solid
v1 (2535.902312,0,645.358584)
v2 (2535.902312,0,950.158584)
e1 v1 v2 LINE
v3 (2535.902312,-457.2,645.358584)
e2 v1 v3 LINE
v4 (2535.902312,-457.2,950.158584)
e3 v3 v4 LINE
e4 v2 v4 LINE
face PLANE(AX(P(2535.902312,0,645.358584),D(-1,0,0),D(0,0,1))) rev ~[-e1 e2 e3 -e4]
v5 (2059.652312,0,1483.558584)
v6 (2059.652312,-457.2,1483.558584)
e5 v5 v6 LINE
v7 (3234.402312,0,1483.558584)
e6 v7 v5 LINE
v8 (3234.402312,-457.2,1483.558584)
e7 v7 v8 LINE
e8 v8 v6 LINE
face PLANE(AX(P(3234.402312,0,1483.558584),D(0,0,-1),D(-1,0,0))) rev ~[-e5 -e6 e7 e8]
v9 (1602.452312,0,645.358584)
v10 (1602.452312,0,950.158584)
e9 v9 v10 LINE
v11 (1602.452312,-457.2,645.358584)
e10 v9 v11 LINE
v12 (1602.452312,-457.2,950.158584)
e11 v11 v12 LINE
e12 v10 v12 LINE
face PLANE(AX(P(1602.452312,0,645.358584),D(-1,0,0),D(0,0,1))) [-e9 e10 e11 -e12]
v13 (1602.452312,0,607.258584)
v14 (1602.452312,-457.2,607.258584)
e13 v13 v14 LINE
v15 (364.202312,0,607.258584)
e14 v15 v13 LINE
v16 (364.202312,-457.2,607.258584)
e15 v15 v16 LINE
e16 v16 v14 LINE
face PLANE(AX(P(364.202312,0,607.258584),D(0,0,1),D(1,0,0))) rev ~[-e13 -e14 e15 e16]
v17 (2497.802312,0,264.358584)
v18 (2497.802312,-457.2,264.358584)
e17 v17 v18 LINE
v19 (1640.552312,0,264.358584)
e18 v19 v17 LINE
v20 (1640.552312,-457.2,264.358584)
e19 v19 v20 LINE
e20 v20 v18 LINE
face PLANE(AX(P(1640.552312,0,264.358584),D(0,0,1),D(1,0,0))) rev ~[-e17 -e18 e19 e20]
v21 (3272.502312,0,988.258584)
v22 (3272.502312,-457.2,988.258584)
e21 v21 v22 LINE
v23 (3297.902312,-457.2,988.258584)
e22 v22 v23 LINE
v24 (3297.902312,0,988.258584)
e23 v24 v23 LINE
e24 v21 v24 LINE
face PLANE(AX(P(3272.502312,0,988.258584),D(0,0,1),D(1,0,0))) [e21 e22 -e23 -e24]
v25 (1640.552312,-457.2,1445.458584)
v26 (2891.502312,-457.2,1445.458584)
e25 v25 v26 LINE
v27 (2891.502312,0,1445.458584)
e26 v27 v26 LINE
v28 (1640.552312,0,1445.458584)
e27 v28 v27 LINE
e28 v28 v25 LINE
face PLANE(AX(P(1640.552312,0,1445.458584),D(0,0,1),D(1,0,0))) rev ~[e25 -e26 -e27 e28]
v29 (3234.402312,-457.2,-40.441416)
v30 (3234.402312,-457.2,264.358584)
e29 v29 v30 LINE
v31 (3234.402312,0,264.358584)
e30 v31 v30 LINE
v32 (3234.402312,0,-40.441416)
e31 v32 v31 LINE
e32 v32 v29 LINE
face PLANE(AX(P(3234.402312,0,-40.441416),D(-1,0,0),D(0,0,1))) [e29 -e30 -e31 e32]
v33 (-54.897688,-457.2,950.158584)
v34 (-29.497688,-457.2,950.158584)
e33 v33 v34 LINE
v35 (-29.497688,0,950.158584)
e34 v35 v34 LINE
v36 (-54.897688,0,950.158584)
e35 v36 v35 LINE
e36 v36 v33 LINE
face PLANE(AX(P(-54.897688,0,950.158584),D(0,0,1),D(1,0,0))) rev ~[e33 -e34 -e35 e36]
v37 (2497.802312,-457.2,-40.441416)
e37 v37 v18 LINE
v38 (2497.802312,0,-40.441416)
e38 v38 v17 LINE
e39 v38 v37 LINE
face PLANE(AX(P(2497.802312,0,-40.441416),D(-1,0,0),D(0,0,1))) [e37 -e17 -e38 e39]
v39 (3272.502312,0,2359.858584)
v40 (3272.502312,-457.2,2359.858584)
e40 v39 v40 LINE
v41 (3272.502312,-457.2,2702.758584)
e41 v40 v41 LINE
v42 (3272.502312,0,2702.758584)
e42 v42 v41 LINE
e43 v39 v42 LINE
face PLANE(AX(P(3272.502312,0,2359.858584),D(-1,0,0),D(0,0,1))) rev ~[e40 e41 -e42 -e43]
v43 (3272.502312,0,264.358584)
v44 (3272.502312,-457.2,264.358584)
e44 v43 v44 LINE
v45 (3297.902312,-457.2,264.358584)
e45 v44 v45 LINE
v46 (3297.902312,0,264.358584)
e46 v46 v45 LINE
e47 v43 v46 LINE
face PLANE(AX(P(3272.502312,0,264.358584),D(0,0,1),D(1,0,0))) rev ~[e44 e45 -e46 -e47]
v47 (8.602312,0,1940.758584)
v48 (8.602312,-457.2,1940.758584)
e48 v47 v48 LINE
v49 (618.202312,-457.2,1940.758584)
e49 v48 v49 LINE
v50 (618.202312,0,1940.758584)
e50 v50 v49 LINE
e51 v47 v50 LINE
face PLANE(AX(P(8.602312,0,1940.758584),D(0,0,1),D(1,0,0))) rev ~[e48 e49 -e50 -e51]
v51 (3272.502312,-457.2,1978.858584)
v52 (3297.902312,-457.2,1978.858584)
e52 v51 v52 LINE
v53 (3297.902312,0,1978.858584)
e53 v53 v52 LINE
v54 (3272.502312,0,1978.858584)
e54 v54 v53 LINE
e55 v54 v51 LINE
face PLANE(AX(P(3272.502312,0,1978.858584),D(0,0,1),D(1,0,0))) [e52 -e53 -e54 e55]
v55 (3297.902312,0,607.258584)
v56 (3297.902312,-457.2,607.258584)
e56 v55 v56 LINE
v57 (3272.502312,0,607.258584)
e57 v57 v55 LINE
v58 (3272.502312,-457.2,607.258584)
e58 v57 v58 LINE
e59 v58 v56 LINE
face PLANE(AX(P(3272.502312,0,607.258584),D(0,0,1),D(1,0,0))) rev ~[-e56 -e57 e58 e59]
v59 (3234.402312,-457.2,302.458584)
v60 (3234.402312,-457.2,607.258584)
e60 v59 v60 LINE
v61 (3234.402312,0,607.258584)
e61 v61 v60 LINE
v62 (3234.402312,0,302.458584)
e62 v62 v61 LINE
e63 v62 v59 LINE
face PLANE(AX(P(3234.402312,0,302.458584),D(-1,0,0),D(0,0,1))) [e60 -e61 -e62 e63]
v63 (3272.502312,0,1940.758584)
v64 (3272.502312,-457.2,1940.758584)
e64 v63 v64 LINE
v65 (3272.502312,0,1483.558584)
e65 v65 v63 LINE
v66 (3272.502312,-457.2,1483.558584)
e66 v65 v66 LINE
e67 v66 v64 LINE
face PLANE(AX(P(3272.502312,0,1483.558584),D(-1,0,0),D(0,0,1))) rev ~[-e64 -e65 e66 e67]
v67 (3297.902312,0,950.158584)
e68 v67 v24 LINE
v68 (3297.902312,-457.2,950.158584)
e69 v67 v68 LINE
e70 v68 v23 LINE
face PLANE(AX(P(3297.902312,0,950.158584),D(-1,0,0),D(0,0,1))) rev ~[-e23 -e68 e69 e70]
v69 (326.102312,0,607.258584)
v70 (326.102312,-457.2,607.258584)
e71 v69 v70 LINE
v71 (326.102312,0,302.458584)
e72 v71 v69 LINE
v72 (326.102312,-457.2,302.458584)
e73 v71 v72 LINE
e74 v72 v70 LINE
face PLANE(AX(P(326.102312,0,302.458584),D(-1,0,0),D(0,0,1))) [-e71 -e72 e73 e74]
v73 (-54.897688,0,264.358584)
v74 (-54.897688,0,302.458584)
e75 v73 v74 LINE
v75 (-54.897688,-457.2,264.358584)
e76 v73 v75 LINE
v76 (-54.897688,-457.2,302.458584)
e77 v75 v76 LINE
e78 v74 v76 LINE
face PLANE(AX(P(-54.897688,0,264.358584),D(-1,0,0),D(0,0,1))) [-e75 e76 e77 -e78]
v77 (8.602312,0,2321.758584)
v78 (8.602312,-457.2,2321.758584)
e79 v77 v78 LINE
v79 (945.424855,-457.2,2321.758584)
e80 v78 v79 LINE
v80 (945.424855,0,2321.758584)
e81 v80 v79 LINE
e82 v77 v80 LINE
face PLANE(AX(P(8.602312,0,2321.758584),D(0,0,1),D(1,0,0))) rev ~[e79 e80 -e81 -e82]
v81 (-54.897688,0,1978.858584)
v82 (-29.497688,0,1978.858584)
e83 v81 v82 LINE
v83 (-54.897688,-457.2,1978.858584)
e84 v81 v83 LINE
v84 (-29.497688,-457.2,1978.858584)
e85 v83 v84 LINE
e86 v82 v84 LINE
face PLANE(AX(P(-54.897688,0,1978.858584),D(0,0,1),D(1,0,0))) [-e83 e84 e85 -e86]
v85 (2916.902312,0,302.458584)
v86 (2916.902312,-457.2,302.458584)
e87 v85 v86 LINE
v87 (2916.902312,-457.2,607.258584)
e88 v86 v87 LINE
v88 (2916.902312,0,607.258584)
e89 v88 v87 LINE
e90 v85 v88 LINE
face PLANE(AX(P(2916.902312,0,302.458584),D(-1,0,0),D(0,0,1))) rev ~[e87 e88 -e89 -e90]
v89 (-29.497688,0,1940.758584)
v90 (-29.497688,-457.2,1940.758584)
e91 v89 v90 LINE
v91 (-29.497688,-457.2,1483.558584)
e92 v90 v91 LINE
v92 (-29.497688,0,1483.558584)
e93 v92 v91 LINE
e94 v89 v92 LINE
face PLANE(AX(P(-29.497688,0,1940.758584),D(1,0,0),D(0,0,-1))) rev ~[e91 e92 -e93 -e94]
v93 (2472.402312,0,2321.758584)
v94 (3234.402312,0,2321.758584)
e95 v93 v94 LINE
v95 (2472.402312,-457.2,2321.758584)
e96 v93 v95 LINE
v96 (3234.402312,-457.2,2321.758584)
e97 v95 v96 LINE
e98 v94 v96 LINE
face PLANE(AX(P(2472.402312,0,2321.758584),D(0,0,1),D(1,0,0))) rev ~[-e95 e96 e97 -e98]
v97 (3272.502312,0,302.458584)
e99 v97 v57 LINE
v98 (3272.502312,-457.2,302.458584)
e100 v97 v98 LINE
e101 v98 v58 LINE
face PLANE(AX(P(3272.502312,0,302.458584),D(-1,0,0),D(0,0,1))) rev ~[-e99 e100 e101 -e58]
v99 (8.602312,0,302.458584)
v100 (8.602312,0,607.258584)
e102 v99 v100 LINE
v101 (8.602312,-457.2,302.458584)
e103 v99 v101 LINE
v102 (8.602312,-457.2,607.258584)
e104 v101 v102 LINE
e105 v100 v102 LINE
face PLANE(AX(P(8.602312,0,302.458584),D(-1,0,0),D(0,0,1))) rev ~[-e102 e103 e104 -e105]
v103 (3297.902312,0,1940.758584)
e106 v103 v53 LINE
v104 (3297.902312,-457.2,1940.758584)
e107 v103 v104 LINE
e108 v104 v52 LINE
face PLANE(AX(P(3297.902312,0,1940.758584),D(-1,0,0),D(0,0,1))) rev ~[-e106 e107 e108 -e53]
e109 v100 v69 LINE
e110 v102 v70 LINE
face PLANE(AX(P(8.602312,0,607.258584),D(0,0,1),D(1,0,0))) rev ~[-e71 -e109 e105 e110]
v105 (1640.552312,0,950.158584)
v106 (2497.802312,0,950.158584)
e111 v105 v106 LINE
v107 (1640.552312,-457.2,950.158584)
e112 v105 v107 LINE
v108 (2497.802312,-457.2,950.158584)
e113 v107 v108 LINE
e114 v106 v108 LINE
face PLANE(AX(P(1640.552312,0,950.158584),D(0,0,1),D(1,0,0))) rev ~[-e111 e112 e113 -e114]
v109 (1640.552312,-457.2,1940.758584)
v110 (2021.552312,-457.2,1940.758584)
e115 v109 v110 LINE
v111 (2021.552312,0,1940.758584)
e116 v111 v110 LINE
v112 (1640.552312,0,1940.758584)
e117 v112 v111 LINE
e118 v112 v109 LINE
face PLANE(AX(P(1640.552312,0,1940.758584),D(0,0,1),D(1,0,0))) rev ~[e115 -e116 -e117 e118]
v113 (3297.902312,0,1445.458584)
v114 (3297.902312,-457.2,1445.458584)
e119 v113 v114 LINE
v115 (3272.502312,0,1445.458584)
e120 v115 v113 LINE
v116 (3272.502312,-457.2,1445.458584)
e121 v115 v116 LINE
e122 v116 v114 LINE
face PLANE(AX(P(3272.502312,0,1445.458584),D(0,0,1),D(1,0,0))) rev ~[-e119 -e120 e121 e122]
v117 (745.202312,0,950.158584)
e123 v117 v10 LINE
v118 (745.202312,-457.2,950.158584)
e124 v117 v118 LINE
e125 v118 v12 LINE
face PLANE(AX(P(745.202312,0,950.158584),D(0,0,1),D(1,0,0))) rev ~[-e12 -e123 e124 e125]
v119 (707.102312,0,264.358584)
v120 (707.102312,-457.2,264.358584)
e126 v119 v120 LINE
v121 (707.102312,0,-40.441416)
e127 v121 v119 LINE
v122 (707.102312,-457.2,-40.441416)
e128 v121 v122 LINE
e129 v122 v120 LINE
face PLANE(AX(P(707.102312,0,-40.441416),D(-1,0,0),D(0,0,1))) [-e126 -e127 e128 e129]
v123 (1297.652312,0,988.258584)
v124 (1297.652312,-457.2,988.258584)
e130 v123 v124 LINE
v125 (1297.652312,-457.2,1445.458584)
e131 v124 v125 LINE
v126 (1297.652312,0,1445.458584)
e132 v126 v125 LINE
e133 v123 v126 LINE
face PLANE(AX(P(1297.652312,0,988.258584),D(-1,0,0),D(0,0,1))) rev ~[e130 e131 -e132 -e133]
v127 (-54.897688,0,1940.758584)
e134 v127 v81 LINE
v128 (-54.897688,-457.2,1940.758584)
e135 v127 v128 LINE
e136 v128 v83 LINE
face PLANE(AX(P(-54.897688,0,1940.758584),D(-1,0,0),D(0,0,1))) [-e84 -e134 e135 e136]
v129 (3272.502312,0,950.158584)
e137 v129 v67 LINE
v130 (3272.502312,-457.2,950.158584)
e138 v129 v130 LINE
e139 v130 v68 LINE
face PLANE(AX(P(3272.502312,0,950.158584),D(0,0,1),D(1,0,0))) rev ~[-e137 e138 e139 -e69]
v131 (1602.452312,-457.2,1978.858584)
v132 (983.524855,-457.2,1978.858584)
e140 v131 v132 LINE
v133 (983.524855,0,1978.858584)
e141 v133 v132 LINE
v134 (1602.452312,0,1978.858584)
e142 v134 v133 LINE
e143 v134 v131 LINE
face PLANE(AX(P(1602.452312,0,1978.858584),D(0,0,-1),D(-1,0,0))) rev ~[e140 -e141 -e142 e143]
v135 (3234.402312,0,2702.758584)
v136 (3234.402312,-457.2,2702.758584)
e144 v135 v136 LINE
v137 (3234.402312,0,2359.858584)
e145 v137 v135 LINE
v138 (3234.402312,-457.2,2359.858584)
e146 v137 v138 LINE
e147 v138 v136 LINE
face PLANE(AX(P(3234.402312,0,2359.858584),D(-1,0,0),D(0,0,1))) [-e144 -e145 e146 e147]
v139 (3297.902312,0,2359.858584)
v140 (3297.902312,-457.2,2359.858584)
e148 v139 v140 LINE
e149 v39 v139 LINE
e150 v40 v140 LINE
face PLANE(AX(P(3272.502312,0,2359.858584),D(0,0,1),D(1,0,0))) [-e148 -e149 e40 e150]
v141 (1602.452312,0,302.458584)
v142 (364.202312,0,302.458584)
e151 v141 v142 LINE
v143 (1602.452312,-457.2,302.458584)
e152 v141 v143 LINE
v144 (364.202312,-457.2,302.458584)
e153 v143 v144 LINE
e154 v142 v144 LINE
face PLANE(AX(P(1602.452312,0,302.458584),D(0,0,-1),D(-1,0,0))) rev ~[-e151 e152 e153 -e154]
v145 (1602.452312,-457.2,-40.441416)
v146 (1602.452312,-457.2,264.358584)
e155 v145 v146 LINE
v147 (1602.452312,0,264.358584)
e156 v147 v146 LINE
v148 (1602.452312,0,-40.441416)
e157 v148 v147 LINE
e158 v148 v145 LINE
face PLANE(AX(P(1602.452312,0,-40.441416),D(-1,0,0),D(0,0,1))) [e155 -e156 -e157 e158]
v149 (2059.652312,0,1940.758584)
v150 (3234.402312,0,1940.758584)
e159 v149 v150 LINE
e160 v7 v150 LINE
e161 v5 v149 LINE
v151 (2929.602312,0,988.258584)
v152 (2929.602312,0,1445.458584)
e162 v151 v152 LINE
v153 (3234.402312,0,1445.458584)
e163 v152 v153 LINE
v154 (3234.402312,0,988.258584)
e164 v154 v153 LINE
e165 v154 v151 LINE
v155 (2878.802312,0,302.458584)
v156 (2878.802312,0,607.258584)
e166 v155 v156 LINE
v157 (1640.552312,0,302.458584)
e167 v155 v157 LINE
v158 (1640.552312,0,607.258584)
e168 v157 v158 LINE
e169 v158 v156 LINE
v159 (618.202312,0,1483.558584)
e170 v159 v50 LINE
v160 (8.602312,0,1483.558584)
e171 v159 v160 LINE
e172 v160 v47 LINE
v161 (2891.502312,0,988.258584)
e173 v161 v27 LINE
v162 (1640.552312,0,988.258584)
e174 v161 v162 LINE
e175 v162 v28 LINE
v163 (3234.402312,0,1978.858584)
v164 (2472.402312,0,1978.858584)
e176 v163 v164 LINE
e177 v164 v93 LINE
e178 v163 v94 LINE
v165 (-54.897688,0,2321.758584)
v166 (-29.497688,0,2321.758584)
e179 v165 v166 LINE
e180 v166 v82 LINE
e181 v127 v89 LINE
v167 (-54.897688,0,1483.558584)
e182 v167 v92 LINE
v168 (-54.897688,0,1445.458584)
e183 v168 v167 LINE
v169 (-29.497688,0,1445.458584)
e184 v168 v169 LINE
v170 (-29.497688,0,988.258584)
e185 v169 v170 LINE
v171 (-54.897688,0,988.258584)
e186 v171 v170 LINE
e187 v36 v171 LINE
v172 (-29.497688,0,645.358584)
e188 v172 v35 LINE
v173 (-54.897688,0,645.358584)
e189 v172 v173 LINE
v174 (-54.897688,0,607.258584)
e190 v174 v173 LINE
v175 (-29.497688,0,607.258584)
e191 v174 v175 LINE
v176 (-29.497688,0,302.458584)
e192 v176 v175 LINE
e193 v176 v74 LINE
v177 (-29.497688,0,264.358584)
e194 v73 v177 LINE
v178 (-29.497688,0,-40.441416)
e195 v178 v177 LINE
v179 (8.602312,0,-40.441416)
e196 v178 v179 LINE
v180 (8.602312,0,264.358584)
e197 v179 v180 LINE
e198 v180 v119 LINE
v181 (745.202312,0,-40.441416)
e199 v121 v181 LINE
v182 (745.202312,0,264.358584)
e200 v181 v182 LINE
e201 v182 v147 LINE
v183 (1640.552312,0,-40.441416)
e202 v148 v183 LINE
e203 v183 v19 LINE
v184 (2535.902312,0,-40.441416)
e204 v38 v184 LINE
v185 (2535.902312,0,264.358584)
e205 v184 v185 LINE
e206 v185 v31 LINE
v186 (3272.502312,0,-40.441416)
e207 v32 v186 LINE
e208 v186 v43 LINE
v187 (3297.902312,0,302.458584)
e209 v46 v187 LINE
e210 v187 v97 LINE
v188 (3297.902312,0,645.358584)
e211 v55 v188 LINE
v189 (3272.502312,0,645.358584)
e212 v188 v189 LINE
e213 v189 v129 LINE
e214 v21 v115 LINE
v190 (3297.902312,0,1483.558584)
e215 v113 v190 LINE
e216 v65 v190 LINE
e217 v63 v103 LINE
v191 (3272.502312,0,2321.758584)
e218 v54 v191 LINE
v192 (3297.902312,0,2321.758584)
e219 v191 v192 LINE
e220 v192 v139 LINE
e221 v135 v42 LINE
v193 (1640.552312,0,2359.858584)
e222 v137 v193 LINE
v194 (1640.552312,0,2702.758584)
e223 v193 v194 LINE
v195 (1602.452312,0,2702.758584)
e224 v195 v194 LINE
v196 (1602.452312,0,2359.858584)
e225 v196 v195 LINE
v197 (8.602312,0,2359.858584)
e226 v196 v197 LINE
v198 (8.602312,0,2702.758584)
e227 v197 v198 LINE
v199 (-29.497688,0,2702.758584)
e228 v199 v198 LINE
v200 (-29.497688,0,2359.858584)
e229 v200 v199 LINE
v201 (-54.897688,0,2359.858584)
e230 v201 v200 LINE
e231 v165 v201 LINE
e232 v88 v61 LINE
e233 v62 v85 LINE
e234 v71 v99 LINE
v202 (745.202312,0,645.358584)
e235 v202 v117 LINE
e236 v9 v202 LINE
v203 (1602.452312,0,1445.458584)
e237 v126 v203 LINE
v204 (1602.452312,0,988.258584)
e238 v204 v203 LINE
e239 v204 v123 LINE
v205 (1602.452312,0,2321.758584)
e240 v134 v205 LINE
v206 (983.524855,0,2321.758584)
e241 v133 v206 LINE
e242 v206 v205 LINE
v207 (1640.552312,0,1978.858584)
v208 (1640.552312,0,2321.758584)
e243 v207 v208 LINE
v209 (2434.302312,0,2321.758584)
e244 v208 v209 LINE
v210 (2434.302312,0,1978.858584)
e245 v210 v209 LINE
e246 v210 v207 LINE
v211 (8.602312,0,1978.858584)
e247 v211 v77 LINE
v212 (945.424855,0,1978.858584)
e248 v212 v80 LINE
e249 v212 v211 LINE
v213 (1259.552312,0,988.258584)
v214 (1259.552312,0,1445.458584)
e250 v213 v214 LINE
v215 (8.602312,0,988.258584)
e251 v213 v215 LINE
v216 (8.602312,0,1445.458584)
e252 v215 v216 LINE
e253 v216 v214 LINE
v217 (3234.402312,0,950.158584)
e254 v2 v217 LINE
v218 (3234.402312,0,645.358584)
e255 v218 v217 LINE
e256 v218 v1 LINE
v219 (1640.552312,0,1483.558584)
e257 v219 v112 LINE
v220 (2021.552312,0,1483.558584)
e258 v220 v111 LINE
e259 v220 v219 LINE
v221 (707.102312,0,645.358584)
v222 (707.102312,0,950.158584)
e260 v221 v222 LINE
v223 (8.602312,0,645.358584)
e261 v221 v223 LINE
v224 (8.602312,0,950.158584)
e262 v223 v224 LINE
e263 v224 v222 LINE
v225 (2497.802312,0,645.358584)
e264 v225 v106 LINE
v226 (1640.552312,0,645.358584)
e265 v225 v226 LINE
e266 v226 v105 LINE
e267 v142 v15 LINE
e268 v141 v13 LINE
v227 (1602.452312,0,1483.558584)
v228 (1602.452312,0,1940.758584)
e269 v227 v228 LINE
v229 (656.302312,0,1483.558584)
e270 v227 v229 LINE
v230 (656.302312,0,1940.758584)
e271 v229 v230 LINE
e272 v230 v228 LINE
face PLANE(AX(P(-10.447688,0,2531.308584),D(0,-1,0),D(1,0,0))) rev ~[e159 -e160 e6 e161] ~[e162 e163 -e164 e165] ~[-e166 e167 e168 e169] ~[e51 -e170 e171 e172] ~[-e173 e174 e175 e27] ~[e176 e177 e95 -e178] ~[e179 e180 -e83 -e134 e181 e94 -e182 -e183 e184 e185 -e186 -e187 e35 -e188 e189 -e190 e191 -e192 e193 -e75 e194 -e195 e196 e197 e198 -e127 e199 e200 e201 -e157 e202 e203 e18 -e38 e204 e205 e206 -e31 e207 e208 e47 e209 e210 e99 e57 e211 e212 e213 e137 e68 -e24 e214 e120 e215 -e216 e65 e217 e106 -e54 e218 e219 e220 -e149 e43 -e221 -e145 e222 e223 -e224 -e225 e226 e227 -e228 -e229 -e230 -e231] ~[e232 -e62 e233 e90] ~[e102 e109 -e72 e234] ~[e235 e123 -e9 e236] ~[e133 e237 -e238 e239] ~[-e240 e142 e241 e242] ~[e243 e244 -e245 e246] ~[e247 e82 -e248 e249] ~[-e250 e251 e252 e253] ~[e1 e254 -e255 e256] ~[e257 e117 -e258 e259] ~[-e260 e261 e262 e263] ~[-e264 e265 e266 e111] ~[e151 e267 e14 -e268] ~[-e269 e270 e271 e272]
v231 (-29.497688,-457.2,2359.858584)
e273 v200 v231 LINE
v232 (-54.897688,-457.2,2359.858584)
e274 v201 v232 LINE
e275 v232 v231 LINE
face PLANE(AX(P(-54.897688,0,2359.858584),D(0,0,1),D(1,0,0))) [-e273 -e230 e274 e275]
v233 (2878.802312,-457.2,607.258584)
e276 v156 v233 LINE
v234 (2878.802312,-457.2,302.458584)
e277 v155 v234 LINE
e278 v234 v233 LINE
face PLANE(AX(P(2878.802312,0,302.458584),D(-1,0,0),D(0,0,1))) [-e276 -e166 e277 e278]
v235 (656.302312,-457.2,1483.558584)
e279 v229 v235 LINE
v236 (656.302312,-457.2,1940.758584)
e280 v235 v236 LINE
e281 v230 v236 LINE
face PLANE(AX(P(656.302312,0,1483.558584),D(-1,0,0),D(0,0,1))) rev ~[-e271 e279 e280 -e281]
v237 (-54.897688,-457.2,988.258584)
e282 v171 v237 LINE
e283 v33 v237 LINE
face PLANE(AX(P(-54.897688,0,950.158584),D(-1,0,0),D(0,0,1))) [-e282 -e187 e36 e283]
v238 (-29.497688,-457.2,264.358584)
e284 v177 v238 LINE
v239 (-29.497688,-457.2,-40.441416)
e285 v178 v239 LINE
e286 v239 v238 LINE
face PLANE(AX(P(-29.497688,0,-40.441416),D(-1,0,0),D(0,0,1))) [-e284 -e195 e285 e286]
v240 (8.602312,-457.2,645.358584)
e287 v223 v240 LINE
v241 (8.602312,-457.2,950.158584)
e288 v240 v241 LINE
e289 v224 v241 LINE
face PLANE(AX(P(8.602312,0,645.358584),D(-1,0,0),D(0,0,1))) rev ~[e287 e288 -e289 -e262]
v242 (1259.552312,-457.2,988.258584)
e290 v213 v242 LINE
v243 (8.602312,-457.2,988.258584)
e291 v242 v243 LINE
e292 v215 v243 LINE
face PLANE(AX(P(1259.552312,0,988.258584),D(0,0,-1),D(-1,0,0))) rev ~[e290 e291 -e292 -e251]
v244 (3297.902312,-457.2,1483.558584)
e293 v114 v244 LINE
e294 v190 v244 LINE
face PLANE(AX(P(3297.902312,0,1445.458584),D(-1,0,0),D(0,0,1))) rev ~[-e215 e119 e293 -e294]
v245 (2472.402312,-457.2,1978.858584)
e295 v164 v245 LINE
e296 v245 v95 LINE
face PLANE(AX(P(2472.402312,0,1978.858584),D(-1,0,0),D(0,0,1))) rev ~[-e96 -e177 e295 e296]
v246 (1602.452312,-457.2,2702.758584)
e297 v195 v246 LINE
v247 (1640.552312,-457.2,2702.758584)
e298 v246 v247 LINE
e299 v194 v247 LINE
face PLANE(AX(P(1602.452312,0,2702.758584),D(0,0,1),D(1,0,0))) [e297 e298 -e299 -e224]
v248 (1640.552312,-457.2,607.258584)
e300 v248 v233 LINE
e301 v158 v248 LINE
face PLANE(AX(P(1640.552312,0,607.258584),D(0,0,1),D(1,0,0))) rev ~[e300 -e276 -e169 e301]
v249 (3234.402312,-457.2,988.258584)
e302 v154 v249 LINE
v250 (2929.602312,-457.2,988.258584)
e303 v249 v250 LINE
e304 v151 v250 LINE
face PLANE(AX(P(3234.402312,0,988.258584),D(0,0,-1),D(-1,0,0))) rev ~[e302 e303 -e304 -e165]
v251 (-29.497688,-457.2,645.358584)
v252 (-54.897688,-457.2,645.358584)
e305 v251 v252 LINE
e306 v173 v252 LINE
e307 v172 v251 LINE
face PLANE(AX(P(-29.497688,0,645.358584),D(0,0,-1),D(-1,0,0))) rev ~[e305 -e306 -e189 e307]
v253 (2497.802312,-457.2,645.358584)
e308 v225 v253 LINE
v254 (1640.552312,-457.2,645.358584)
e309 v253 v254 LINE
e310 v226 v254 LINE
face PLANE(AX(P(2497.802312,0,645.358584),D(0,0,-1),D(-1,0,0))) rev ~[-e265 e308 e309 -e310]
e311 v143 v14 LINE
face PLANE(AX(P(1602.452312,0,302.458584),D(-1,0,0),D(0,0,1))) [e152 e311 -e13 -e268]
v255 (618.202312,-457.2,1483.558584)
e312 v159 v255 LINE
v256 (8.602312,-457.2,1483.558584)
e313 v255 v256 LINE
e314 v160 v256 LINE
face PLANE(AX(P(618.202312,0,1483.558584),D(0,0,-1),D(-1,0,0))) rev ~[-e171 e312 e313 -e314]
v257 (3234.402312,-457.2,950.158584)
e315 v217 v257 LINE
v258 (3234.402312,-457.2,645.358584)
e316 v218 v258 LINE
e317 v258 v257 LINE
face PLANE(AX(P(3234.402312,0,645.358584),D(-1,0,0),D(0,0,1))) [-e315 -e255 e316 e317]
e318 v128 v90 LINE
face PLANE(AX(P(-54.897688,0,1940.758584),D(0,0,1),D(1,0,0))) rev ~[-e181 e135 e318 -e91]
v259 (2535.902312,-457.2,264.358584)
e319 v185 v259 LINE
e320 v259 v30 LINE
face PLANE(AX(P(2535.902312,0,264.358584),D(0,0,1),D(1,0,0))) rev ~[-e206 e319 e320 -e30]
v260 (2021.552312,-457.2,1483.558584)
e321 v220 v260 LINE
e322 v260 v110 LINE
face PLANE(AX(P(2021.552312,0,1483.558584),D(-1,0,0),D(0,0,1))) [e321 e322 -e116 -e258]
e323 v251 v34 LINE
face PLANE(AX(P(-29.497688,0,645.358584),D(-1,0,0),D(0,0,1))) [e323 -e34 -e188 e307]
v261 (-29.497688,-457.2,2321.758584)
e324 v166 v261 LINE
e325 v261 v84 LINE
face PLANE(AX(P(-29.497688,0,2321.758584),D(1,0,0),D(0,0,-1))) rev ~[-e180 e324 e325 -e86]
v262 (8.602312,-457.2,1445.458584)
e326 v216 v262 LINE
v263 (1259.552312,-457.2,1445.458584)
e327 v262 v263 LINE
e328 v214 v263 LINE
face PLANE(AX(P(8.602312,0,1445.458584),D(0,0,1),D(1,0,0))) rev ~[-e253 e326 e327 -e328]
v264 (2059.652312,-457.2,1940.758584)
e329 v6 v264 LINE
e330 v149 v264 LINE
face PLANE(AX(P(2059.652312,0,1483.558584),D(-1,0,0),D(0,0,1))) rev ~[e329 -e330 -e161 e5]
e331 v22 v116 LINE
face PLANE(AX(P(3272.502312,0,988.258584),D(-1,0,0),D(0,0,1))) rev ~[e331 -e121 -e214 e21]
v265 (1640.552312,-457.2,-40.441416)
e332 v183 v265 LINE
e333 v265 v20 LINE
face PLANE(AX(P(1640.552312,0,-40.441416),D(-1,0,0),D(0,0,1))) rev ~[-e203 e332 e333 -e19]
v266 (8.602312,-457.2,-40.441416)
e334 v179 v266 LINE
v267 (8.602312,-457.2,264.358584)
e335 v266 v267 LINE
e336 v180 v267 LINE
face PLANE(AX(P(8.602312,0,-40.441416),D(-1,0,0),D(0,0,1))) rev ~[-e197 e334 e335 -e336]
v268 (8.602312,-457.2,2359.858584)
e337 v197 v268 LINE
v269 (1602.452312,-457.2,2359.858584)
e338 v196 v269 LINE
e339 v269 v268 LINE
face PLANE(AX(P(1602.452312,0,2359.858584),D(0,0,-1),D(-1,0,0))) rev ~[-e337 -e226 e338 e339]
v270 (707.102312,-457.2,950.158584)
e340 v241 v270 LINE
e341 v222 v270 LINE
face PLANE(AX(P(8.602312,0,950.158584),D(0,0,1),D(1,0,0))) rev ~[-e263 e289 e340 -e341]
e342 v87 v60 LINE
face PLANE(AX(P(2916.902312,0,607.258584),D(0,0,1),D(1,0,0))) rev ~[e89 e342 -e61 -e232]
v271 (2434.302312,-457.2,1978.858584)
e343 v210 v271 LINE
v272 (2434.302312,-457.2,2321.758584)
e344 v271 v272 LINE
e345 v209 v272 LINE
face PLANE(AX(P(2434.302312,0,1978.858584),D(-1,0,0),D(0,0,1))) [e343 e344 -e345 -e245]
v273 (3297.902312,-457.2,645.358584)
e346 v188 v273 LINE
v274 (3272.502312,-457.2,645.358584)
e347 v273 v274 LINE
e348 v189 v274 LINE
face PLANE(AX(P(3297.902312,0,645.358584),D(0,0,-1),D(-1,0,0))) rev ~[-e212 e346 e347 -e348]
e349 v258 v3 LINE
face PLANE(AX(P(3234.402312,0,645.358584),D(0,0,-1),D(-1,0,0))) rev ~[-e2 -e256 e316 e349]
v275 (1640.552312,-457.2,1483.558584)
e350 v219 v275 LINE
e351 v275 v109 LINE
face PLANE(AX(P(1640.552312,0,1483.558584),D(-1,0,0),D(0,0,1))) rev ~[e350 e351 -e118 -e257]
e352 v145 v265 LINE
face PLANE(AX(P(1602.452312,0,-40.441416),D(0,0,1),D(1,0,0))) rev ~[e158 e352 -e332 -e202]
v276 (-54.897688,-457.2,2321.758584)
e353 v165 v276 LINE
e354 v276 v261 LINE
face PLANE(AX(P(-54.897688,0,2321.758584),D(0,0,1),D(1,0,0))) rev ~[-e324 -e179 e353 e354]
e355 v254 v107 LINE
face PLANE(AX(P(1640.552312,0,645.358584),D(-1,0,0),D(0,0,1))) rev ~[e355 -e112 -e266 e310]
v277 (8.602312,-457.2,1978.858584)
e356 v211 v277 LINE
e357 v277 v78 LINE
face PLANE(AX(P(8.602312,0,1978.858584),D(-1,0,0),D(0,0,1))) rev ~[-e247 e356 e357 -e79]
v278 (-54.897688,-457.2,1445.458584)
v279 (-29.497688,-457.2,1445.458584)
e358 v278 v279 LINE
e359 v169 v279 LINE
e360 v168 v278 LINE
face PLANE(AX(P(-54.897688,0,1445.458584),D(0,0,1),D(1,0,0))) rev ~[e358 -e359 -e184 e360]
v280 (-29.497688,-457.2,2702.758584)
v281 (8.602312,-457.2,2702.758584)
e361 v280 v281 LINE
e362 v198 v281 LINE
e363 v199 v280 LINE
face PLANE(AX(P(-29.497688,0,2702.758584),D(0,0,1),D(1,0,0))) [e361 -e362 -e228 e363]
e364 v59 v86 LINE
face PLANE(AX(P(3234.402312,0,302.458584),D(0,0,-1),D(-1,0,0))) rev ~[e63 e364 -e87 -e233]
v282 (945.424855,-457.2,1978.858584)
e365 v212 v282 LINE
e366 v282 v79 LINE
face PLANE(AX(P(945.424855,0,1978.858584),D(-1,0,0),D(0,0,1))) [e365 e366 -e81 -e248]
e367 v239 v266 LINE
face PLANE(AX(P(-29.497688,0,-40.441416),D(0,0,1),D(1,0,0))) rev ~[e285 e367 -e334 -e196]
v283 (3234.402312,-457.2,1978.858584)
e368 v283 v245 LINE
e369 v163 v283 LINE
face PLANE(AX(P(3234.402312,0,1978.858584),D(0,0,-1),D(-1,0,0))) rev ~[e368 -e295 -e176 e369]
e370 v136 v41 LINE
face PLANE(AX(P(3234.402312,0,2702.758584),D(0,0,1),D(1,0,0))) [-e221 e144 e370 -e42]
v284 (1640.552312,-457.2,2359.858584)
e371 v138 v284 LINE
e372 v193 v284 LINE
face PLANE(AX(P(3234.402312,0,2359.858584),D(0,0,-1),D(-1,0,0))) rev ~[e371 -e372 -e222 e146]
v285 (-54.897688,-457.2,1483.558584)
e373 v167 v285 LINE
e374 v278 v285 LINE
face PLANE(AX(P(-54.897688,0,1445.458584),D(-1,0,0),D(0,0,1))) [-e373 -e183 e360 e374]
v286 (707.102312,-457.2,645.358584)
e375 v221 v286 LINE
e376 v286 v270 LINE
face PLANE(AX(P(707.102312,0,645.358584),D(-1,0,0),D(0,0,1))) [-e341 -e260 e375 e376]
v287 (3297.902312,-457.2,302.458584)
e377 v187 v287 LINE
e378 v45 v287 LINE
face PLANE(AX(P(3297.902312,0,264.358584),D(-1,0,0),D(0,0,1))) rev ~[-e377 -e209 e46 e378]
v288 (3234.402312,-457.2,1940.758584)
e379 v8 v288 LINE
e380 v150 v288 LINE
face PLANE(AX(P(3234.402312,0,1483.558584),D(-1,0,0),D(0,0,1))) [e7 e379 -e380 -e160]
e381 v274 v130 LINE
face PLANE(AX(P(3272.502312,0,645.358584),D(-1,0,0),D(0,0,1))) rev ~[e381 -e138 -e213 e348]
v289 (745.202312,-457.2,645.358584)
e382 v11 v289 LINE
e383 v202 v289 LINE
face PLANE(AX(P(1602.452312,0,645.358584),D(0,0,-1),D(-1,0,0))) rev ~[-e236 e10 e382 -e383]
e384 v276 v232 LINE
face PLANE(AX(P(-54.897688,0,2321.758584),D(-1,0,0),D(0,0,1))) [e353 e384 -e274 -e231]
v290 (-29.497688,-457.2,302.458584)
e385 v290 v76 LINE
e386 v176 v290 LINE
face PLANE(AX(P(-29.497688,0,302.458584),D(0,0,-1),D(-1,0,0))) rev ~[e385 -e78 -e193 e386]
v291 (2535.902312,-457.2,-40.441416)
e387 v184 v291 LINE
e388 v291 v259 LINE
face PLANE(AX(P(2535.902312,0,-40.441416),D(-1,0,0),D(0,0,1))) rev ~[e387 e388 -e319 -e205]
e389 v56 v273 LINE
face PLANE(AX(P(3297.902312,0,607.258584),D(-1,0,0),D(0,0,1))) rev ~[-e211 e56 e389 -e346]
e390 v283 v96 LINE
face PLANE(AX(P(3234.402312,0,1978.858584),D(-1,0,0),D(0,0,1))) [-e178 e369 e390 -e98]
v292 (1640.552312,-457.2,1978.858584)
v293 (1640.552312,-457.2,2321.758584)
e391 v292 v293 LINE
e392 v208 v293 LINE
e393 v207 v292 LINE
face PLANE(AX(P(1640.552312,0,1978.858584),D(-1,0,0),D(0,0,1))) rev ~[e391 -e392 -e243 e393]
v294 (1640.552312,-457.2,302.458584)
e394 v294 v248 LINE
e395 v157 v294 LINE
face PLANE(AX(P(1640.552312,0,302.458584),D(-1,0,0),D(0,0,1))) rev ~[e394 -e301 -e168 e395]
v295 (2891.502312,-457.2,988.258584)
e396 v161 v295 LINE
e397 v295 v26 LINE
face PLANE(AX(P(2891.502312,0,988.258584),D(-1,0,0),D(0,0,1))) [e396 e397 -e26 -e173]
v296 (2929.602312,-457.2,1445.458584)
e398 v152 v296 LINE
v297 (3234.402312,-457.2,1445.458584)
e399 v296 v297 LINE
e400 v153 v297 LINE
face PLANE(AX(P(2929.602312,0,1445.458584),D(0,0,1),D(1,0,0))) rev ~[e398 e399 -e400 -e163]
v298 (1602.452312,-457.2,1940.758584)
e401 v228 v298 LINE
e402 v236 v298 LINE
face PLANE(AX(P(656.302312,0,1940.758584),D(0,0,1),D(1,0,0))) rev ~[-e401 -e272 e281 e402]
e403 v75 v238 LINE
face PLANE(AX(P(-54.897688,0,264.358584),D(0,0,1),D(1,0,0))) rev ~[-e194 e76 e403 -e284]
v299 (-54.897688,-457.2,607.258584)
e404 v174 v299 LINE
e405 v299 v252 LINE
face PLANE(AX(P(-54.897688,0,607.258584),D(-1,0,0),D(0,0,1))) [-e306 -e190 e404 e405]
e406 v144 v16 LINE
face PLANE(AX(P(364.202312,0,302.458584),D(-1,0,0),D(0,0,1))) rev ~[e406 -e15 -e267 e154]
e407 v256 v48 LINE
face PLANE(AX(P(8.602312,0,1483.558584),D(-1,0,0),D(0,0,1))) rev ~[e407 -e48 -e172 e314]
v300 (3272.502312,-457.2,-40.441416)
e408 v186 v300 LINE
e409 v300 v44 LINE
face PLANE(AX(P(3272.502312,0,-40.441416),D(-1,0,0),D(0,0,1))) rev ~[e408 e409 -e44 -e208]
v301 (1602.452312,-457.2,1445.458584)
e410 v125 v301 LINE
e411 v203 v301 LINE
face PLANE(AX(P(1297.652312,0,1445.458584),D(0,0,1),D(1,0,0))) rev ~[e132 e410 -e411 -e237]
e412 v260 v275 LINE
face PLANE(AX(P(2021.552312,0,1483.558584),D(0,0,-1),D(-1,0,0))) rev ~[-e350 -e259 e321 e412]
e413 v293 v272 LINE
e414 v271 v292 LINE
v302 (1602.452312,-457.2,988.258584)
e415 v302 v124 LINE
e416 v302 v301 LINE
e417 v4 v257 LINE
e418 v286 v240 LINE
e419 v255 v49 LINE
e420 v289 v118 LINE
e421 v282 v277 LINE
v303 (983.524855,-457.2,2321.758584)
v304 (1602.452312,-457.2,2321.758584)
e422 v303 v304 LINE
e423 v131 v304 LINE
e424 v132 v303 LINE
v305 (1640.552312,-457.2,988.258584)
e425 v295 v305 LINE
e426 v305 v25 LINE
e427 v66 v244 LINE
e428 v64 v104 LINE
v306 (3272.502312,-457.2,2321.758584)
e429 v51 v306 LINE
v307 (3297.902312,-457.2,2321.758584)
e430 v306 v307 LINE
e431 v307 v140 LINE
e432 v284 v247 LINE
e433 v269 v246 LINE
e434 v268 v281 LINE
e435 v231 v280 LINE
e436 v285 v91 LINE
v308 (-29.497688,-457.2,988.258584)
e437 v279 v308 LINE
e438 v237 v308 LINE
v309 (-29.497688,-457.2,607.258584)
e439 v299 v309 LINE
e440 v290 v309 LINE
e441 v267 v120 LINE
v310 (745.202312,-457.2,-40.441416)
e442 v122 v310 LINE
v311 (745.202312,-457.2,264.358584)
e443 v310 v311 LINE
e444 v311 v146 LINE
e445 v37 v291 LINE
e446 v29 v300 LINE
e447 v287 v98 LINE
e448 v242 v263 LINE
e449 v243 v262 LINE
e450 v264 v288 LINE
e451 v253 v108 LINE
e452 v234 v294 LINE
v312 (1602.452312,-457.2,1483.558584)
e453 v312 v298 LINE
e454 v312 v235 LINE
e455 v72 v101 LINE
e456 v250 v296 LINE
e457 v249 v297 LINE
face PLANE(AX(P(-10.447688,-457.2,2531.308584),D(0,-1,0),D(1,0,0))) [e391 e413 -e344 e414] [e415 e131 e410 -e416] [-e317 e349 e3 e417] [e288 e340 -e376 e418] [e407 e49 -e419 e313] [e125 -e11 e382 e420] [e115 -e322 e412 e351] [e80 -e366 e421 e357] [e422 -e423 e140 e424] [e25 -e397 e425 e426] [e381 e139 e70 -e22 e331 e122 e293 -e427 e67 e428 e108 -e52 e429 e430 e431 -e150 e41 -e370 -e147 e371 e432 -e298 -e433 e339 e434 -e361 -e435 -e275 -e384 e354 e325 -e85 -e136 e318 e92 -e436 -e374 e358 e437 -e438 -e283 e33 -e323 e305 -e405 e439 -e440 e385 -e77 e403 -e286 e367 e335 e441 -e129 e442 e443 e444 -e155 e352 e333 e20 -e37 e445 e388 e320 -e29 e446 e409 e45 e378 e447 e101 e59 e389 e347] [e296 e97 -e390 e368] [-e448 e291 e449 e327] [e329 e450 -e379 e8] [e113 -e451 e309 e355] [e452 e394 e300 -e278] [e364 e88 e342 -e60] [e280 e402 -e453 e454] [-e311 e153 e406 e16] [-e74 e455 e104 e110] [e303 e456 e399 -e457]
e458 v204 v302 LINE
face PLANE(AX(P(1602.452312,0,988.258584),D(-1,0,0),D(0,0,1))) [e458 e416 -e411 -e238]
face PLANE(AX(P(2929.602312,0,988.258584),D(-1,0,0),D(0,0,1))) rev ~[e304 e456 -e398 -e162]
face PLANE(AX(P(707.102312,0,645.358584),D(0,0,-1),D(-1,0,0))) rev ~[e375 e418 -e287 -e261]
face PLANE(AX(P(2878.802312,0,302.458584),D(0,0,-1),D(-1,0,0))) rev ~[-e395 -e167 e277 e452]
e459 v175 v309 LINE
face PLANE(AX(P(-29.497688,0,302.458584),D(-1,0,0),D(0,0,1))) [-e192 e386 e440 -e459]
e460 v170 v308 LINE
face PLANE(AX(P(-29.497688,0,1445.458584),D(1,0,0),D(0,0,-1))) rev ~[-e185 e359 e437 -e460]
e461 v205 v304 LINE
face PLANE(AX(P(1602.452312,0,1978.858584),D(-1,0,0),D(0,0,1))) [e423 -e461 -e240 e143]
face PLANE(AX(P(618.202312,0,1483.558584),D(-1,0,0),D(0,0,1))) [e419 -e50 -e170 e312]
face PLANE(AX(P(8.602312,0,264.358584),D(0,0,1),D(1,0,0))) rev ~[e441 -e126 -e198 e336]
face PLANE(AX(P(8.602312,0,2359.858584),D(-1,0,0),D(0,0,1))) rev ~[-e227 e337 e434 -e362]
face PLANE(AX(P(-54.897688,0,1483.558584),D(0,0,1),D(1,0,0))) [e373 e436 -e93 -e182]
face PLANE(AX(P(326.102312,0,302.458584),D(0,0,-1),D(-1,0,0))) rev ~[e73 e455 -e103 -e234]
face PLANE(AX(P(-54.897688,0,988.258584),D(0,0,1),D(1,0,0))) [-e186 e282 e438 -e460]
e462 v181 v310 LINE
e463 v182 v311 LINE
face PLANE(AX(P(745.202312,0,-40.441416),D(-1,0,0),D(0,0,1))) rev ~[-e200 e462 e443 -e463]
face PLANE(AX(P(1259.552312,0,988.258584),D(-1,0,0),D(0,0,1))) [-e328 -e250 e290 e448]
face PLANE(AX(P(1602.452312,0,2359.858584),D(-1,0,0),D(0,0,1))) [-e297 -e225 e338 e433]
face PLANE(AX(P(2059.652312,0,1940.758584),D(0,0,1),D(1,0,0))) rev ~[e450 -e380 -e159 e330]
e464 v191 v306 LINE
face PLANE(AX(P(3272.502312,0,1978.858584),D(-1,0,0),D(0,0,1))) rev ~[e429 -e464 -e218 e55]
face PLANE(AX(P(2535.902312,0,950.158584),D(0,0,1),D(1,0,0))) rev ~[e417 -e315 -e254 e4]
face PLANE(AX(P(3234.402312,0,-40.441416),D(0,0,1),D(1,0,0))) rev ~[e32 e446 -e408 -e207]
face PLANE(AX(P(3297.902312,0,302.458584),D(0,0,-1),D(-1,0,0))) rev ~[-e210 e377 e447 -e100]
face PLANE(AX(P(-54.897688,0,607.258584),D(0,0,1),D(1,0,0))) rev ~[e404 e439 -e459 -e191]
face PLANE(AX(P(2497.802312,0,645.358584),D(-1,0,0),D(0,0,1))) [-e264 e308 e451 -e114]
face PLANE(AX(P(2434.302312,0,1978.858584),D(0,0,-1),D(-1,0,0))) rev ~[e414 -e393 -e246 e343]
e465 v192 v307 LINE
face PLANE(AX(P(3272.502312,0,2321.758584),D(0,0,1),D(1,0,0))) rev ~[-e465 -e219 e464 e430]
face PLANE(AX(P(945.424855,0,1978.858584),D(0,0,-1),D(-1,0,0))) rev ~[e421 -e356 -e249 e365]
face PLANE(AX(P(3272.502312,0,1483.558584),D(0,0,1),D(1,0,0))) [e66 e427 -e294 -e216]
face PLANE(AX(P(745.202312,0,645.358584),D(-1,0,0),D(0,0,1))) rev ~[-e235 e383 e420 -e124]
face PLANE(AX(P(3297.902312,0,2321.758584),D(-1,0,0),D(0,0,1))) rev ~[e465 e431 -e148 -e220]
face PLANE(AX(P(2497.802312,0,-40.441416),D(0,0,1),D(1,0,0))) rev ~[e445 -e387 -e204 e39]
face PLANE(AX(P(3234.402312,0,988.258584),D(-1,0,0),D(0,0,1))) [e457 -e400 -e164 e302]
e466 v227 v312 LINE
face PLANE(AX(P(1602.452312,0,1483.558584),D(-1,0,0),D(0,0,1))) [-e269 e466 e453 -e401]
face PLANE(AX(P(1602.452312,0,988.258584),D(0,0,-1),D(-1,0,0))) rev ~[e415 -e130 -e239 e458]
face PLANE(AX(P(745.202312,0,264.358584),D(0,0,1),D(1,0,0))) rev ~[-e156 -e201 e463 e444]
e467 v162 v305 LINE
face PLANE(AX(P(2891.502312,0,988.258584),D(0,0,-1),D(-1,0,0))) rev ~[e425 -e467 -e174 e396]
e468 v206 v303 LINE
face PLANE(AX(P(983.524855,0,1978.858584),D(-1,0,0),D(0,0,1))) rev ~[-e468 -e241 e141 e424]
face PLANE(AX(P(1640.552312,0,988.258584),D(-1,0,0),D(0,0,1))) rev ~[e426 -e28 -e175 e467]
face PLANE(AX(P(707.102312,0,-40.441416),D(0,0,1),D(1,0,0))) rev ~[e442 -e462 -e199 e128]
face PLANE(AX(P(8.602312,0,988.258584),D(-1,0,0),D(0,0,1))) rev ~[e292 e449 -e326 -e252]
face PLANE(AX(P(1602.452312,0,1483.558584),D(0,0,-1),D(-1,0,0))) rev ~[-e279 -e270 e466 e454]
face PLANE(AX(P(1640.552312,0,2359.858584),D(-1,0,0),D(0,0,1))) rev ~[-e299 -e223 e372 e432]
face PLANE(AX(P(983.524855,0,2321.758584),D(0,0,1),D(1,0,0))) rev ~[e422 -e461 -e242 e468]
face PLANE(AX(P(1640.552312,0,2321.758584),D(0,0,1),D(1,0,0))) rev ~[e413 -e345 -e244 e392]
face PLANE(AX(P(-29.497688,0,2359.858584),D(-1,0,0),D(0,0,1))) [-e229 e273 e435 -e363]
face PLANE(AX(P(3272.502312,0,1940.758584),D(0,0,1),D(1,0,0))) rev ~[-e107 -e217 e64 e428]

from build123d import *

# Parameters (mm, degrees)
F0_W     = 38.1
F0_H     = 342.9
F0_W_2   = 25.4
F0_H_2   = 38.1
F0_H_3   = 457.2
F0_H_4   = 304.8
F1_DEPTH = 457.2


with BuildPart() as f1:
    # F0 (on Front) → F1 (new body)
    with BuildSketch(Plane.XZ):
        with Locations((-10.4476883292, 2531.308583796)):
            Rectangle(F0_W, F0_H)
        with Locations((-42.1976883292, 2340.808583796)):
            Rectangle(F0_W_2, F0_H_2)
        with Locations((-10.4476883292, 2340.808583796)):
            Rectangle(F0_W, F0_H_2)
        Polygon((1602.4523116708, 2359.858583796), (8.6023116708, 2359.858583796), (8.6023116708, 2321.758583796), (945.4248547554, 2321.758583796), (983.5248547554, 2321.758583796), (1602.4523116708, 2321.758583796), align=None)
        with Locations((-10.4476883292, 2150.308583796)):
            Rectangle(F0_W, F0_H)
        with Locations((1621.5023116708, 2531.308583796)):
            Rectangle(F0_W, F0_H)
        with Locations((1621.5023116708, 2340.808583796)):
            Rectangle(F0_W, F0_H_2)
        Polygon((3234.4023116708, 2359.858583796), (1640.5523116708, 2359.858583796), (1640.5523116708, 2321.758583796), (2434.3023116708, 2321.758583796), (2472.4023116708, 2321.758583796), (3234.4023116708, 2321.758583796), align=None)
        with Locations((1621.5023116708, 2150.308583796)):
            Rectangle(F0_W, F0_H)
        with Locations((964.4748547554, 2150.308583796)):
            Rectangle(F0_W, F0_H)
        Polygon((945.4248547554, 1978.858583796), (8.6023116708, 1978.858583796), (8.6023116708, 1940.758583796), (618.2023116708, 1940.758583796), (656.3023116708, 1940.758583796), (1602.4523116708, 1940.758583796), (1602.4523116708, 1978.858583796), (983.5248547554, 1978.858583796), align=None)
        with Locations((-10.4476883292, 1959.808583796)):
            Rectangle(F0_W, F0_H_2)
        with Locations((-42.1976883292, 1959.808583796)):
            Rectangle(F0_W_2, F0_H_2)
        with Locations((-10.4476883292, 1712.158583796)):
            Rectangle(F0_W, F0_H_3)
        with Locations((637.2523116708, 1712.158583796)):
            Rectangle(F0_W, F0_H_3)
        with Locations((-10.4476883292, 1464.508583796)):
            Rectangle(F0_W, F0_H_2)
        Polygon((618.2023116708, 1483.558583796), (8.6023116708, 1483.558583796), (8.6023116708, 1445.458583796), (1259.5523116708, 1445.458583796), (1297.6523116708, 1445.458583796), (1602.4523116708, 1445.458583796), (1602.4523116708, 1483.558583796), (656.3023116708, 1483.558583796), align=None)
        with Locations((-10.4476883292, 1216.858583796)):
            Rectangle(F0_W, F0_H_3)
        with Locations((-42.1976883292, 1464.508583796)):
            Rectangle(F0_W_2, F0_H_2)
        with Locations((-42.1976883292, 969.208583796)):
            Rectangle(F0_W_2, F0_H_2)
        with Locations((-42.1976883292, 626.308583796)):
            Rectangle(F0_W_2, F0_H_2)
        with Locations((-10.4476883292, 111.958583796)):
            Rectangle(F0_W, F0_H_4)
        with Locations((-42.1976883292, 283.408583796)):
            Rectangle(F0_W_2, F0_H_2)
        with Locations((-10.4476883292, 283.408583796)):
            Rectangle(F0_W, F0_H_2)
        with Locations((-10.4476883292, 454.858583796)):
            Rectangle(F0_W, F0_H_4)
        with Locations((-10.4476883292, 626.308583796)):
            Rectangle(F0_W, F0_H_2)
        with Locations((-10.4476883292, 797.758583796)):
            Rectangle(F0_W, F0_H_4)
        Polygon((707.1023116708, 645.358583796), (8.6023116708, 645.358583796), (8.6023116708, 607.258583796), (326.1023116708, 607.258583796), (364.2023116708, 607.258583796), (1602.4523116708, 607.258583796), (1640.5523116708, 607.258583796), (2878.8023116708, 607.258583796), (2916.9023116708, 607.258583796), (3234.4023116708, 607.258583796), (3234.4023116708, 645.358583796), (2535.9023116708, 645.358583796), (2497.8023116708, 645.358583796), (1640.5523116708, 645.358583796), (1602.4523116708, 645.358583796), (745.2023116708, 645.358583796), align=None)
        Polygon((1259.5523116708, 988.258583796), (8.6023116708, 988.258583796), (8.6023116708, 950.158583796), (707.1023116708, 950.158583796), (745.2023116708, 950.158583796), (1602.4523116708, 950.158583796), (1602.4523116708, 988.258583796), (1297.6523116708, 988.258583796), align=None)
        with Locations((726.1523116708, 797.758583796)):
            Rectangle(F0_W, F0_H_4)
        with Locations((-10.4476883292, 969.208583796)):
            Rectangle(F0_W, F0_H_2)
        with Locations((345.1523116708, 454.858583796)):
            Rectangle(F0_W, F0_H_4)
        Polygon((326.1023116708, 302.458583796), (8.6023116708, 302.458583796), (8.6023116708, 264.358583796), (707.1023116708, 264.358583796), (745.2023116708, 264.358583796), (1602.4523116708, 264.358583796), (1640.5523116708, 264.358583796), (2497.8023116708, 264.358583796), (2535.9023116708, 264.358583796), (3234.4023116708, 264.358583796), (3234.4023116708, 302.458583796), (2916.9023116708, 302.458583796), (2878.8023116708, 302.458583796), (1640.5523116708, 302.458583796), (1602.4523116708, 302.458583796), (364.2023116708, 302.458583796), align=None)
        with Locations((726.1523116708, 111.958583796)):
            Rectangle(F0_W, F0_H_4)
        with Locations((1278.6023116708, 1216.858583796)):
            Rectangle(F0_W, F0_H_3)
        with Locations((1621.5023116708, 1959.808583796)):
            Rectangle(F0_W, F0_H_2)
        with Locations((1621.5023116708, 1712.158583796)):
            Rectangle(F0_W, F0_H_3)
        with Locations((1621.5023116708, 1464.508583796)):
            Rectangle(F0_W, F0_H_2)
        with Locations((1621.5023116708, 1216.858583796)):
            Rectangle(F0_W, F0_H_3)
        with Locations((1621.5023116708, 969.208583796)):
            Rectangle(F0_W, F0_H_2)
        with Locations((1621.5023116708, 797.758583796)):
            Rectangle(F0_W, F0_H_4)
        with Locations((1621.5023116708, 454.858583796)):
            Rectangle(F0_W, F0_H_4)
        with Locations((1621.5023116708, 111.958583796)):
            Rectangle(F0_W, F0_H_4)
        with Locations((2040.6023116708, 1712.158583796)):
            Rectangle(F0_W, F0_H_3)
        Polygon((2434.3023116708, 1978.858583796), (1640.5523116708, 1978.858583796), (1640.5523116708, 1940.758583796), (2021.5523116708, 1940.758583796), (2059.6523116708, 1940.758583796), (3234.4023116708, 1940.758583796), (3234.4023116708, 1978.858583796), (2472.4023116708, 1978.858583796), align=None)
        with Locations((2453.3523116708, 2150.308583796)):
            Rectangle(F0_W, F0_H)
        with Locations((3253.4523116708, 2531.308583796)):
            Rectangle(F0_W, F0_H)
        with Locations((3253.4523116708, 2150.308583796)):
            Rectangle(F0_W, F0_H)
        with Locations((3253.4523116708, 1712.158583796)):
            Rectangle(F0_W, F0_H_3)
        with Locations((2910.5523116708, 1216.858583796)):
            Rectangle(F0_W, F0_H_3)
        Polygon((2021.5523116708, 1483.558583796), (1640.5523116708, 1483.558583796), (1640.5523116708, 1445.458583796), (2891.5023116708, 1445.458583796), (2929.6023116708, 1445.458583796), (3234.4023116708, 1445.458583796), (3234.4023116708, 1483.558583796), (2059.6523116708, 1483.558583796), align=None)
        Polygon((2891.5023116708, 988.258583796), (1640.5523116708, 988.258583796), (1640.5523116708, 950.158583796), (2497.8023116708, 950.158583796), (2535.9023116708, 950.158583796), (3234.4023116708, 950.158583796), (3234.4023116708, 988.258583796), (2929.6023116708, 988.258583796), align=None)
        with Locations((2516.8523116708, 797.758583796)):
            Rectangle(F0_W, F0_H_4)
        with Locations((2897.8523116708, 454.858583796)):
            Rectangle(F0_W, F0_H_4)
        with Locations((2516.8523116708, 111.958583796)):
            Rectangle(F0_W, F0_H_4)
        with Locations((3253.4523116708, 111.958583796)):
            Rectangle(F0_W, F0_H_4)
        with Locations((3253.4523116708, 283.408583796)):
            Rectangle(F0_W, F0_H_2)
        with Locations((3285.2023116708, 283.408583796)):
            Rectangle(F0_W_2, F0_H_2)
        with Locations((3253.4523116708, 454.858583796)):
            Rectangle(F0_W, F0_H_4)
        with Locations((3285.2023116708, 626.308583796)):
            Rectangle(F0_W_2, F0_H_2)
        with Locations((3253.4523116708, 626.308583796)):
            Rectangle(F0_W, F0_H_2)
        with Locations((3253.4523116708, 797.758583796)):
            Rectangle(F0_W, F0_H_4)
        with Locations((3253.4523116708, 969.208583796)):
            Rectangle(F0_W, F0_H_2)
        with Locations((3253.4523116708, 1216.858583796)):
            Rectangle(F0_W, F0_H_3)
        with Locations((3253.4523116708, 1464.508583796)):
            Rectangle(F0_W, F0_H_2)
        with Locations((3285.2023116708, 969.208583796)):
            Rectangle(F0_W_2, F0_H_2)
        with Locations((3285.2023116708, 1464.508583796)):
            Rectangle(F0_W_2, F0_H_2)
        with Locations((3253.4523116708, 1959.808583796)):
            Rectangle(F0_W, F0_H_2)
        with Locations((3285.2023116708, 1959.808583796)):
            Rectangle(F0_W_2, F0_H_2)
        with Locations((3253.4523116708, 2340.808583796)):
            Rectangle(F0_W, F0_H_2)
        with Locations((3285.2023116708, 2340.808583796)):
            Rectangle(F0_W_2, F0_H_2)
    extrude(amount=F1_DEPTH)


solid = f1.part
